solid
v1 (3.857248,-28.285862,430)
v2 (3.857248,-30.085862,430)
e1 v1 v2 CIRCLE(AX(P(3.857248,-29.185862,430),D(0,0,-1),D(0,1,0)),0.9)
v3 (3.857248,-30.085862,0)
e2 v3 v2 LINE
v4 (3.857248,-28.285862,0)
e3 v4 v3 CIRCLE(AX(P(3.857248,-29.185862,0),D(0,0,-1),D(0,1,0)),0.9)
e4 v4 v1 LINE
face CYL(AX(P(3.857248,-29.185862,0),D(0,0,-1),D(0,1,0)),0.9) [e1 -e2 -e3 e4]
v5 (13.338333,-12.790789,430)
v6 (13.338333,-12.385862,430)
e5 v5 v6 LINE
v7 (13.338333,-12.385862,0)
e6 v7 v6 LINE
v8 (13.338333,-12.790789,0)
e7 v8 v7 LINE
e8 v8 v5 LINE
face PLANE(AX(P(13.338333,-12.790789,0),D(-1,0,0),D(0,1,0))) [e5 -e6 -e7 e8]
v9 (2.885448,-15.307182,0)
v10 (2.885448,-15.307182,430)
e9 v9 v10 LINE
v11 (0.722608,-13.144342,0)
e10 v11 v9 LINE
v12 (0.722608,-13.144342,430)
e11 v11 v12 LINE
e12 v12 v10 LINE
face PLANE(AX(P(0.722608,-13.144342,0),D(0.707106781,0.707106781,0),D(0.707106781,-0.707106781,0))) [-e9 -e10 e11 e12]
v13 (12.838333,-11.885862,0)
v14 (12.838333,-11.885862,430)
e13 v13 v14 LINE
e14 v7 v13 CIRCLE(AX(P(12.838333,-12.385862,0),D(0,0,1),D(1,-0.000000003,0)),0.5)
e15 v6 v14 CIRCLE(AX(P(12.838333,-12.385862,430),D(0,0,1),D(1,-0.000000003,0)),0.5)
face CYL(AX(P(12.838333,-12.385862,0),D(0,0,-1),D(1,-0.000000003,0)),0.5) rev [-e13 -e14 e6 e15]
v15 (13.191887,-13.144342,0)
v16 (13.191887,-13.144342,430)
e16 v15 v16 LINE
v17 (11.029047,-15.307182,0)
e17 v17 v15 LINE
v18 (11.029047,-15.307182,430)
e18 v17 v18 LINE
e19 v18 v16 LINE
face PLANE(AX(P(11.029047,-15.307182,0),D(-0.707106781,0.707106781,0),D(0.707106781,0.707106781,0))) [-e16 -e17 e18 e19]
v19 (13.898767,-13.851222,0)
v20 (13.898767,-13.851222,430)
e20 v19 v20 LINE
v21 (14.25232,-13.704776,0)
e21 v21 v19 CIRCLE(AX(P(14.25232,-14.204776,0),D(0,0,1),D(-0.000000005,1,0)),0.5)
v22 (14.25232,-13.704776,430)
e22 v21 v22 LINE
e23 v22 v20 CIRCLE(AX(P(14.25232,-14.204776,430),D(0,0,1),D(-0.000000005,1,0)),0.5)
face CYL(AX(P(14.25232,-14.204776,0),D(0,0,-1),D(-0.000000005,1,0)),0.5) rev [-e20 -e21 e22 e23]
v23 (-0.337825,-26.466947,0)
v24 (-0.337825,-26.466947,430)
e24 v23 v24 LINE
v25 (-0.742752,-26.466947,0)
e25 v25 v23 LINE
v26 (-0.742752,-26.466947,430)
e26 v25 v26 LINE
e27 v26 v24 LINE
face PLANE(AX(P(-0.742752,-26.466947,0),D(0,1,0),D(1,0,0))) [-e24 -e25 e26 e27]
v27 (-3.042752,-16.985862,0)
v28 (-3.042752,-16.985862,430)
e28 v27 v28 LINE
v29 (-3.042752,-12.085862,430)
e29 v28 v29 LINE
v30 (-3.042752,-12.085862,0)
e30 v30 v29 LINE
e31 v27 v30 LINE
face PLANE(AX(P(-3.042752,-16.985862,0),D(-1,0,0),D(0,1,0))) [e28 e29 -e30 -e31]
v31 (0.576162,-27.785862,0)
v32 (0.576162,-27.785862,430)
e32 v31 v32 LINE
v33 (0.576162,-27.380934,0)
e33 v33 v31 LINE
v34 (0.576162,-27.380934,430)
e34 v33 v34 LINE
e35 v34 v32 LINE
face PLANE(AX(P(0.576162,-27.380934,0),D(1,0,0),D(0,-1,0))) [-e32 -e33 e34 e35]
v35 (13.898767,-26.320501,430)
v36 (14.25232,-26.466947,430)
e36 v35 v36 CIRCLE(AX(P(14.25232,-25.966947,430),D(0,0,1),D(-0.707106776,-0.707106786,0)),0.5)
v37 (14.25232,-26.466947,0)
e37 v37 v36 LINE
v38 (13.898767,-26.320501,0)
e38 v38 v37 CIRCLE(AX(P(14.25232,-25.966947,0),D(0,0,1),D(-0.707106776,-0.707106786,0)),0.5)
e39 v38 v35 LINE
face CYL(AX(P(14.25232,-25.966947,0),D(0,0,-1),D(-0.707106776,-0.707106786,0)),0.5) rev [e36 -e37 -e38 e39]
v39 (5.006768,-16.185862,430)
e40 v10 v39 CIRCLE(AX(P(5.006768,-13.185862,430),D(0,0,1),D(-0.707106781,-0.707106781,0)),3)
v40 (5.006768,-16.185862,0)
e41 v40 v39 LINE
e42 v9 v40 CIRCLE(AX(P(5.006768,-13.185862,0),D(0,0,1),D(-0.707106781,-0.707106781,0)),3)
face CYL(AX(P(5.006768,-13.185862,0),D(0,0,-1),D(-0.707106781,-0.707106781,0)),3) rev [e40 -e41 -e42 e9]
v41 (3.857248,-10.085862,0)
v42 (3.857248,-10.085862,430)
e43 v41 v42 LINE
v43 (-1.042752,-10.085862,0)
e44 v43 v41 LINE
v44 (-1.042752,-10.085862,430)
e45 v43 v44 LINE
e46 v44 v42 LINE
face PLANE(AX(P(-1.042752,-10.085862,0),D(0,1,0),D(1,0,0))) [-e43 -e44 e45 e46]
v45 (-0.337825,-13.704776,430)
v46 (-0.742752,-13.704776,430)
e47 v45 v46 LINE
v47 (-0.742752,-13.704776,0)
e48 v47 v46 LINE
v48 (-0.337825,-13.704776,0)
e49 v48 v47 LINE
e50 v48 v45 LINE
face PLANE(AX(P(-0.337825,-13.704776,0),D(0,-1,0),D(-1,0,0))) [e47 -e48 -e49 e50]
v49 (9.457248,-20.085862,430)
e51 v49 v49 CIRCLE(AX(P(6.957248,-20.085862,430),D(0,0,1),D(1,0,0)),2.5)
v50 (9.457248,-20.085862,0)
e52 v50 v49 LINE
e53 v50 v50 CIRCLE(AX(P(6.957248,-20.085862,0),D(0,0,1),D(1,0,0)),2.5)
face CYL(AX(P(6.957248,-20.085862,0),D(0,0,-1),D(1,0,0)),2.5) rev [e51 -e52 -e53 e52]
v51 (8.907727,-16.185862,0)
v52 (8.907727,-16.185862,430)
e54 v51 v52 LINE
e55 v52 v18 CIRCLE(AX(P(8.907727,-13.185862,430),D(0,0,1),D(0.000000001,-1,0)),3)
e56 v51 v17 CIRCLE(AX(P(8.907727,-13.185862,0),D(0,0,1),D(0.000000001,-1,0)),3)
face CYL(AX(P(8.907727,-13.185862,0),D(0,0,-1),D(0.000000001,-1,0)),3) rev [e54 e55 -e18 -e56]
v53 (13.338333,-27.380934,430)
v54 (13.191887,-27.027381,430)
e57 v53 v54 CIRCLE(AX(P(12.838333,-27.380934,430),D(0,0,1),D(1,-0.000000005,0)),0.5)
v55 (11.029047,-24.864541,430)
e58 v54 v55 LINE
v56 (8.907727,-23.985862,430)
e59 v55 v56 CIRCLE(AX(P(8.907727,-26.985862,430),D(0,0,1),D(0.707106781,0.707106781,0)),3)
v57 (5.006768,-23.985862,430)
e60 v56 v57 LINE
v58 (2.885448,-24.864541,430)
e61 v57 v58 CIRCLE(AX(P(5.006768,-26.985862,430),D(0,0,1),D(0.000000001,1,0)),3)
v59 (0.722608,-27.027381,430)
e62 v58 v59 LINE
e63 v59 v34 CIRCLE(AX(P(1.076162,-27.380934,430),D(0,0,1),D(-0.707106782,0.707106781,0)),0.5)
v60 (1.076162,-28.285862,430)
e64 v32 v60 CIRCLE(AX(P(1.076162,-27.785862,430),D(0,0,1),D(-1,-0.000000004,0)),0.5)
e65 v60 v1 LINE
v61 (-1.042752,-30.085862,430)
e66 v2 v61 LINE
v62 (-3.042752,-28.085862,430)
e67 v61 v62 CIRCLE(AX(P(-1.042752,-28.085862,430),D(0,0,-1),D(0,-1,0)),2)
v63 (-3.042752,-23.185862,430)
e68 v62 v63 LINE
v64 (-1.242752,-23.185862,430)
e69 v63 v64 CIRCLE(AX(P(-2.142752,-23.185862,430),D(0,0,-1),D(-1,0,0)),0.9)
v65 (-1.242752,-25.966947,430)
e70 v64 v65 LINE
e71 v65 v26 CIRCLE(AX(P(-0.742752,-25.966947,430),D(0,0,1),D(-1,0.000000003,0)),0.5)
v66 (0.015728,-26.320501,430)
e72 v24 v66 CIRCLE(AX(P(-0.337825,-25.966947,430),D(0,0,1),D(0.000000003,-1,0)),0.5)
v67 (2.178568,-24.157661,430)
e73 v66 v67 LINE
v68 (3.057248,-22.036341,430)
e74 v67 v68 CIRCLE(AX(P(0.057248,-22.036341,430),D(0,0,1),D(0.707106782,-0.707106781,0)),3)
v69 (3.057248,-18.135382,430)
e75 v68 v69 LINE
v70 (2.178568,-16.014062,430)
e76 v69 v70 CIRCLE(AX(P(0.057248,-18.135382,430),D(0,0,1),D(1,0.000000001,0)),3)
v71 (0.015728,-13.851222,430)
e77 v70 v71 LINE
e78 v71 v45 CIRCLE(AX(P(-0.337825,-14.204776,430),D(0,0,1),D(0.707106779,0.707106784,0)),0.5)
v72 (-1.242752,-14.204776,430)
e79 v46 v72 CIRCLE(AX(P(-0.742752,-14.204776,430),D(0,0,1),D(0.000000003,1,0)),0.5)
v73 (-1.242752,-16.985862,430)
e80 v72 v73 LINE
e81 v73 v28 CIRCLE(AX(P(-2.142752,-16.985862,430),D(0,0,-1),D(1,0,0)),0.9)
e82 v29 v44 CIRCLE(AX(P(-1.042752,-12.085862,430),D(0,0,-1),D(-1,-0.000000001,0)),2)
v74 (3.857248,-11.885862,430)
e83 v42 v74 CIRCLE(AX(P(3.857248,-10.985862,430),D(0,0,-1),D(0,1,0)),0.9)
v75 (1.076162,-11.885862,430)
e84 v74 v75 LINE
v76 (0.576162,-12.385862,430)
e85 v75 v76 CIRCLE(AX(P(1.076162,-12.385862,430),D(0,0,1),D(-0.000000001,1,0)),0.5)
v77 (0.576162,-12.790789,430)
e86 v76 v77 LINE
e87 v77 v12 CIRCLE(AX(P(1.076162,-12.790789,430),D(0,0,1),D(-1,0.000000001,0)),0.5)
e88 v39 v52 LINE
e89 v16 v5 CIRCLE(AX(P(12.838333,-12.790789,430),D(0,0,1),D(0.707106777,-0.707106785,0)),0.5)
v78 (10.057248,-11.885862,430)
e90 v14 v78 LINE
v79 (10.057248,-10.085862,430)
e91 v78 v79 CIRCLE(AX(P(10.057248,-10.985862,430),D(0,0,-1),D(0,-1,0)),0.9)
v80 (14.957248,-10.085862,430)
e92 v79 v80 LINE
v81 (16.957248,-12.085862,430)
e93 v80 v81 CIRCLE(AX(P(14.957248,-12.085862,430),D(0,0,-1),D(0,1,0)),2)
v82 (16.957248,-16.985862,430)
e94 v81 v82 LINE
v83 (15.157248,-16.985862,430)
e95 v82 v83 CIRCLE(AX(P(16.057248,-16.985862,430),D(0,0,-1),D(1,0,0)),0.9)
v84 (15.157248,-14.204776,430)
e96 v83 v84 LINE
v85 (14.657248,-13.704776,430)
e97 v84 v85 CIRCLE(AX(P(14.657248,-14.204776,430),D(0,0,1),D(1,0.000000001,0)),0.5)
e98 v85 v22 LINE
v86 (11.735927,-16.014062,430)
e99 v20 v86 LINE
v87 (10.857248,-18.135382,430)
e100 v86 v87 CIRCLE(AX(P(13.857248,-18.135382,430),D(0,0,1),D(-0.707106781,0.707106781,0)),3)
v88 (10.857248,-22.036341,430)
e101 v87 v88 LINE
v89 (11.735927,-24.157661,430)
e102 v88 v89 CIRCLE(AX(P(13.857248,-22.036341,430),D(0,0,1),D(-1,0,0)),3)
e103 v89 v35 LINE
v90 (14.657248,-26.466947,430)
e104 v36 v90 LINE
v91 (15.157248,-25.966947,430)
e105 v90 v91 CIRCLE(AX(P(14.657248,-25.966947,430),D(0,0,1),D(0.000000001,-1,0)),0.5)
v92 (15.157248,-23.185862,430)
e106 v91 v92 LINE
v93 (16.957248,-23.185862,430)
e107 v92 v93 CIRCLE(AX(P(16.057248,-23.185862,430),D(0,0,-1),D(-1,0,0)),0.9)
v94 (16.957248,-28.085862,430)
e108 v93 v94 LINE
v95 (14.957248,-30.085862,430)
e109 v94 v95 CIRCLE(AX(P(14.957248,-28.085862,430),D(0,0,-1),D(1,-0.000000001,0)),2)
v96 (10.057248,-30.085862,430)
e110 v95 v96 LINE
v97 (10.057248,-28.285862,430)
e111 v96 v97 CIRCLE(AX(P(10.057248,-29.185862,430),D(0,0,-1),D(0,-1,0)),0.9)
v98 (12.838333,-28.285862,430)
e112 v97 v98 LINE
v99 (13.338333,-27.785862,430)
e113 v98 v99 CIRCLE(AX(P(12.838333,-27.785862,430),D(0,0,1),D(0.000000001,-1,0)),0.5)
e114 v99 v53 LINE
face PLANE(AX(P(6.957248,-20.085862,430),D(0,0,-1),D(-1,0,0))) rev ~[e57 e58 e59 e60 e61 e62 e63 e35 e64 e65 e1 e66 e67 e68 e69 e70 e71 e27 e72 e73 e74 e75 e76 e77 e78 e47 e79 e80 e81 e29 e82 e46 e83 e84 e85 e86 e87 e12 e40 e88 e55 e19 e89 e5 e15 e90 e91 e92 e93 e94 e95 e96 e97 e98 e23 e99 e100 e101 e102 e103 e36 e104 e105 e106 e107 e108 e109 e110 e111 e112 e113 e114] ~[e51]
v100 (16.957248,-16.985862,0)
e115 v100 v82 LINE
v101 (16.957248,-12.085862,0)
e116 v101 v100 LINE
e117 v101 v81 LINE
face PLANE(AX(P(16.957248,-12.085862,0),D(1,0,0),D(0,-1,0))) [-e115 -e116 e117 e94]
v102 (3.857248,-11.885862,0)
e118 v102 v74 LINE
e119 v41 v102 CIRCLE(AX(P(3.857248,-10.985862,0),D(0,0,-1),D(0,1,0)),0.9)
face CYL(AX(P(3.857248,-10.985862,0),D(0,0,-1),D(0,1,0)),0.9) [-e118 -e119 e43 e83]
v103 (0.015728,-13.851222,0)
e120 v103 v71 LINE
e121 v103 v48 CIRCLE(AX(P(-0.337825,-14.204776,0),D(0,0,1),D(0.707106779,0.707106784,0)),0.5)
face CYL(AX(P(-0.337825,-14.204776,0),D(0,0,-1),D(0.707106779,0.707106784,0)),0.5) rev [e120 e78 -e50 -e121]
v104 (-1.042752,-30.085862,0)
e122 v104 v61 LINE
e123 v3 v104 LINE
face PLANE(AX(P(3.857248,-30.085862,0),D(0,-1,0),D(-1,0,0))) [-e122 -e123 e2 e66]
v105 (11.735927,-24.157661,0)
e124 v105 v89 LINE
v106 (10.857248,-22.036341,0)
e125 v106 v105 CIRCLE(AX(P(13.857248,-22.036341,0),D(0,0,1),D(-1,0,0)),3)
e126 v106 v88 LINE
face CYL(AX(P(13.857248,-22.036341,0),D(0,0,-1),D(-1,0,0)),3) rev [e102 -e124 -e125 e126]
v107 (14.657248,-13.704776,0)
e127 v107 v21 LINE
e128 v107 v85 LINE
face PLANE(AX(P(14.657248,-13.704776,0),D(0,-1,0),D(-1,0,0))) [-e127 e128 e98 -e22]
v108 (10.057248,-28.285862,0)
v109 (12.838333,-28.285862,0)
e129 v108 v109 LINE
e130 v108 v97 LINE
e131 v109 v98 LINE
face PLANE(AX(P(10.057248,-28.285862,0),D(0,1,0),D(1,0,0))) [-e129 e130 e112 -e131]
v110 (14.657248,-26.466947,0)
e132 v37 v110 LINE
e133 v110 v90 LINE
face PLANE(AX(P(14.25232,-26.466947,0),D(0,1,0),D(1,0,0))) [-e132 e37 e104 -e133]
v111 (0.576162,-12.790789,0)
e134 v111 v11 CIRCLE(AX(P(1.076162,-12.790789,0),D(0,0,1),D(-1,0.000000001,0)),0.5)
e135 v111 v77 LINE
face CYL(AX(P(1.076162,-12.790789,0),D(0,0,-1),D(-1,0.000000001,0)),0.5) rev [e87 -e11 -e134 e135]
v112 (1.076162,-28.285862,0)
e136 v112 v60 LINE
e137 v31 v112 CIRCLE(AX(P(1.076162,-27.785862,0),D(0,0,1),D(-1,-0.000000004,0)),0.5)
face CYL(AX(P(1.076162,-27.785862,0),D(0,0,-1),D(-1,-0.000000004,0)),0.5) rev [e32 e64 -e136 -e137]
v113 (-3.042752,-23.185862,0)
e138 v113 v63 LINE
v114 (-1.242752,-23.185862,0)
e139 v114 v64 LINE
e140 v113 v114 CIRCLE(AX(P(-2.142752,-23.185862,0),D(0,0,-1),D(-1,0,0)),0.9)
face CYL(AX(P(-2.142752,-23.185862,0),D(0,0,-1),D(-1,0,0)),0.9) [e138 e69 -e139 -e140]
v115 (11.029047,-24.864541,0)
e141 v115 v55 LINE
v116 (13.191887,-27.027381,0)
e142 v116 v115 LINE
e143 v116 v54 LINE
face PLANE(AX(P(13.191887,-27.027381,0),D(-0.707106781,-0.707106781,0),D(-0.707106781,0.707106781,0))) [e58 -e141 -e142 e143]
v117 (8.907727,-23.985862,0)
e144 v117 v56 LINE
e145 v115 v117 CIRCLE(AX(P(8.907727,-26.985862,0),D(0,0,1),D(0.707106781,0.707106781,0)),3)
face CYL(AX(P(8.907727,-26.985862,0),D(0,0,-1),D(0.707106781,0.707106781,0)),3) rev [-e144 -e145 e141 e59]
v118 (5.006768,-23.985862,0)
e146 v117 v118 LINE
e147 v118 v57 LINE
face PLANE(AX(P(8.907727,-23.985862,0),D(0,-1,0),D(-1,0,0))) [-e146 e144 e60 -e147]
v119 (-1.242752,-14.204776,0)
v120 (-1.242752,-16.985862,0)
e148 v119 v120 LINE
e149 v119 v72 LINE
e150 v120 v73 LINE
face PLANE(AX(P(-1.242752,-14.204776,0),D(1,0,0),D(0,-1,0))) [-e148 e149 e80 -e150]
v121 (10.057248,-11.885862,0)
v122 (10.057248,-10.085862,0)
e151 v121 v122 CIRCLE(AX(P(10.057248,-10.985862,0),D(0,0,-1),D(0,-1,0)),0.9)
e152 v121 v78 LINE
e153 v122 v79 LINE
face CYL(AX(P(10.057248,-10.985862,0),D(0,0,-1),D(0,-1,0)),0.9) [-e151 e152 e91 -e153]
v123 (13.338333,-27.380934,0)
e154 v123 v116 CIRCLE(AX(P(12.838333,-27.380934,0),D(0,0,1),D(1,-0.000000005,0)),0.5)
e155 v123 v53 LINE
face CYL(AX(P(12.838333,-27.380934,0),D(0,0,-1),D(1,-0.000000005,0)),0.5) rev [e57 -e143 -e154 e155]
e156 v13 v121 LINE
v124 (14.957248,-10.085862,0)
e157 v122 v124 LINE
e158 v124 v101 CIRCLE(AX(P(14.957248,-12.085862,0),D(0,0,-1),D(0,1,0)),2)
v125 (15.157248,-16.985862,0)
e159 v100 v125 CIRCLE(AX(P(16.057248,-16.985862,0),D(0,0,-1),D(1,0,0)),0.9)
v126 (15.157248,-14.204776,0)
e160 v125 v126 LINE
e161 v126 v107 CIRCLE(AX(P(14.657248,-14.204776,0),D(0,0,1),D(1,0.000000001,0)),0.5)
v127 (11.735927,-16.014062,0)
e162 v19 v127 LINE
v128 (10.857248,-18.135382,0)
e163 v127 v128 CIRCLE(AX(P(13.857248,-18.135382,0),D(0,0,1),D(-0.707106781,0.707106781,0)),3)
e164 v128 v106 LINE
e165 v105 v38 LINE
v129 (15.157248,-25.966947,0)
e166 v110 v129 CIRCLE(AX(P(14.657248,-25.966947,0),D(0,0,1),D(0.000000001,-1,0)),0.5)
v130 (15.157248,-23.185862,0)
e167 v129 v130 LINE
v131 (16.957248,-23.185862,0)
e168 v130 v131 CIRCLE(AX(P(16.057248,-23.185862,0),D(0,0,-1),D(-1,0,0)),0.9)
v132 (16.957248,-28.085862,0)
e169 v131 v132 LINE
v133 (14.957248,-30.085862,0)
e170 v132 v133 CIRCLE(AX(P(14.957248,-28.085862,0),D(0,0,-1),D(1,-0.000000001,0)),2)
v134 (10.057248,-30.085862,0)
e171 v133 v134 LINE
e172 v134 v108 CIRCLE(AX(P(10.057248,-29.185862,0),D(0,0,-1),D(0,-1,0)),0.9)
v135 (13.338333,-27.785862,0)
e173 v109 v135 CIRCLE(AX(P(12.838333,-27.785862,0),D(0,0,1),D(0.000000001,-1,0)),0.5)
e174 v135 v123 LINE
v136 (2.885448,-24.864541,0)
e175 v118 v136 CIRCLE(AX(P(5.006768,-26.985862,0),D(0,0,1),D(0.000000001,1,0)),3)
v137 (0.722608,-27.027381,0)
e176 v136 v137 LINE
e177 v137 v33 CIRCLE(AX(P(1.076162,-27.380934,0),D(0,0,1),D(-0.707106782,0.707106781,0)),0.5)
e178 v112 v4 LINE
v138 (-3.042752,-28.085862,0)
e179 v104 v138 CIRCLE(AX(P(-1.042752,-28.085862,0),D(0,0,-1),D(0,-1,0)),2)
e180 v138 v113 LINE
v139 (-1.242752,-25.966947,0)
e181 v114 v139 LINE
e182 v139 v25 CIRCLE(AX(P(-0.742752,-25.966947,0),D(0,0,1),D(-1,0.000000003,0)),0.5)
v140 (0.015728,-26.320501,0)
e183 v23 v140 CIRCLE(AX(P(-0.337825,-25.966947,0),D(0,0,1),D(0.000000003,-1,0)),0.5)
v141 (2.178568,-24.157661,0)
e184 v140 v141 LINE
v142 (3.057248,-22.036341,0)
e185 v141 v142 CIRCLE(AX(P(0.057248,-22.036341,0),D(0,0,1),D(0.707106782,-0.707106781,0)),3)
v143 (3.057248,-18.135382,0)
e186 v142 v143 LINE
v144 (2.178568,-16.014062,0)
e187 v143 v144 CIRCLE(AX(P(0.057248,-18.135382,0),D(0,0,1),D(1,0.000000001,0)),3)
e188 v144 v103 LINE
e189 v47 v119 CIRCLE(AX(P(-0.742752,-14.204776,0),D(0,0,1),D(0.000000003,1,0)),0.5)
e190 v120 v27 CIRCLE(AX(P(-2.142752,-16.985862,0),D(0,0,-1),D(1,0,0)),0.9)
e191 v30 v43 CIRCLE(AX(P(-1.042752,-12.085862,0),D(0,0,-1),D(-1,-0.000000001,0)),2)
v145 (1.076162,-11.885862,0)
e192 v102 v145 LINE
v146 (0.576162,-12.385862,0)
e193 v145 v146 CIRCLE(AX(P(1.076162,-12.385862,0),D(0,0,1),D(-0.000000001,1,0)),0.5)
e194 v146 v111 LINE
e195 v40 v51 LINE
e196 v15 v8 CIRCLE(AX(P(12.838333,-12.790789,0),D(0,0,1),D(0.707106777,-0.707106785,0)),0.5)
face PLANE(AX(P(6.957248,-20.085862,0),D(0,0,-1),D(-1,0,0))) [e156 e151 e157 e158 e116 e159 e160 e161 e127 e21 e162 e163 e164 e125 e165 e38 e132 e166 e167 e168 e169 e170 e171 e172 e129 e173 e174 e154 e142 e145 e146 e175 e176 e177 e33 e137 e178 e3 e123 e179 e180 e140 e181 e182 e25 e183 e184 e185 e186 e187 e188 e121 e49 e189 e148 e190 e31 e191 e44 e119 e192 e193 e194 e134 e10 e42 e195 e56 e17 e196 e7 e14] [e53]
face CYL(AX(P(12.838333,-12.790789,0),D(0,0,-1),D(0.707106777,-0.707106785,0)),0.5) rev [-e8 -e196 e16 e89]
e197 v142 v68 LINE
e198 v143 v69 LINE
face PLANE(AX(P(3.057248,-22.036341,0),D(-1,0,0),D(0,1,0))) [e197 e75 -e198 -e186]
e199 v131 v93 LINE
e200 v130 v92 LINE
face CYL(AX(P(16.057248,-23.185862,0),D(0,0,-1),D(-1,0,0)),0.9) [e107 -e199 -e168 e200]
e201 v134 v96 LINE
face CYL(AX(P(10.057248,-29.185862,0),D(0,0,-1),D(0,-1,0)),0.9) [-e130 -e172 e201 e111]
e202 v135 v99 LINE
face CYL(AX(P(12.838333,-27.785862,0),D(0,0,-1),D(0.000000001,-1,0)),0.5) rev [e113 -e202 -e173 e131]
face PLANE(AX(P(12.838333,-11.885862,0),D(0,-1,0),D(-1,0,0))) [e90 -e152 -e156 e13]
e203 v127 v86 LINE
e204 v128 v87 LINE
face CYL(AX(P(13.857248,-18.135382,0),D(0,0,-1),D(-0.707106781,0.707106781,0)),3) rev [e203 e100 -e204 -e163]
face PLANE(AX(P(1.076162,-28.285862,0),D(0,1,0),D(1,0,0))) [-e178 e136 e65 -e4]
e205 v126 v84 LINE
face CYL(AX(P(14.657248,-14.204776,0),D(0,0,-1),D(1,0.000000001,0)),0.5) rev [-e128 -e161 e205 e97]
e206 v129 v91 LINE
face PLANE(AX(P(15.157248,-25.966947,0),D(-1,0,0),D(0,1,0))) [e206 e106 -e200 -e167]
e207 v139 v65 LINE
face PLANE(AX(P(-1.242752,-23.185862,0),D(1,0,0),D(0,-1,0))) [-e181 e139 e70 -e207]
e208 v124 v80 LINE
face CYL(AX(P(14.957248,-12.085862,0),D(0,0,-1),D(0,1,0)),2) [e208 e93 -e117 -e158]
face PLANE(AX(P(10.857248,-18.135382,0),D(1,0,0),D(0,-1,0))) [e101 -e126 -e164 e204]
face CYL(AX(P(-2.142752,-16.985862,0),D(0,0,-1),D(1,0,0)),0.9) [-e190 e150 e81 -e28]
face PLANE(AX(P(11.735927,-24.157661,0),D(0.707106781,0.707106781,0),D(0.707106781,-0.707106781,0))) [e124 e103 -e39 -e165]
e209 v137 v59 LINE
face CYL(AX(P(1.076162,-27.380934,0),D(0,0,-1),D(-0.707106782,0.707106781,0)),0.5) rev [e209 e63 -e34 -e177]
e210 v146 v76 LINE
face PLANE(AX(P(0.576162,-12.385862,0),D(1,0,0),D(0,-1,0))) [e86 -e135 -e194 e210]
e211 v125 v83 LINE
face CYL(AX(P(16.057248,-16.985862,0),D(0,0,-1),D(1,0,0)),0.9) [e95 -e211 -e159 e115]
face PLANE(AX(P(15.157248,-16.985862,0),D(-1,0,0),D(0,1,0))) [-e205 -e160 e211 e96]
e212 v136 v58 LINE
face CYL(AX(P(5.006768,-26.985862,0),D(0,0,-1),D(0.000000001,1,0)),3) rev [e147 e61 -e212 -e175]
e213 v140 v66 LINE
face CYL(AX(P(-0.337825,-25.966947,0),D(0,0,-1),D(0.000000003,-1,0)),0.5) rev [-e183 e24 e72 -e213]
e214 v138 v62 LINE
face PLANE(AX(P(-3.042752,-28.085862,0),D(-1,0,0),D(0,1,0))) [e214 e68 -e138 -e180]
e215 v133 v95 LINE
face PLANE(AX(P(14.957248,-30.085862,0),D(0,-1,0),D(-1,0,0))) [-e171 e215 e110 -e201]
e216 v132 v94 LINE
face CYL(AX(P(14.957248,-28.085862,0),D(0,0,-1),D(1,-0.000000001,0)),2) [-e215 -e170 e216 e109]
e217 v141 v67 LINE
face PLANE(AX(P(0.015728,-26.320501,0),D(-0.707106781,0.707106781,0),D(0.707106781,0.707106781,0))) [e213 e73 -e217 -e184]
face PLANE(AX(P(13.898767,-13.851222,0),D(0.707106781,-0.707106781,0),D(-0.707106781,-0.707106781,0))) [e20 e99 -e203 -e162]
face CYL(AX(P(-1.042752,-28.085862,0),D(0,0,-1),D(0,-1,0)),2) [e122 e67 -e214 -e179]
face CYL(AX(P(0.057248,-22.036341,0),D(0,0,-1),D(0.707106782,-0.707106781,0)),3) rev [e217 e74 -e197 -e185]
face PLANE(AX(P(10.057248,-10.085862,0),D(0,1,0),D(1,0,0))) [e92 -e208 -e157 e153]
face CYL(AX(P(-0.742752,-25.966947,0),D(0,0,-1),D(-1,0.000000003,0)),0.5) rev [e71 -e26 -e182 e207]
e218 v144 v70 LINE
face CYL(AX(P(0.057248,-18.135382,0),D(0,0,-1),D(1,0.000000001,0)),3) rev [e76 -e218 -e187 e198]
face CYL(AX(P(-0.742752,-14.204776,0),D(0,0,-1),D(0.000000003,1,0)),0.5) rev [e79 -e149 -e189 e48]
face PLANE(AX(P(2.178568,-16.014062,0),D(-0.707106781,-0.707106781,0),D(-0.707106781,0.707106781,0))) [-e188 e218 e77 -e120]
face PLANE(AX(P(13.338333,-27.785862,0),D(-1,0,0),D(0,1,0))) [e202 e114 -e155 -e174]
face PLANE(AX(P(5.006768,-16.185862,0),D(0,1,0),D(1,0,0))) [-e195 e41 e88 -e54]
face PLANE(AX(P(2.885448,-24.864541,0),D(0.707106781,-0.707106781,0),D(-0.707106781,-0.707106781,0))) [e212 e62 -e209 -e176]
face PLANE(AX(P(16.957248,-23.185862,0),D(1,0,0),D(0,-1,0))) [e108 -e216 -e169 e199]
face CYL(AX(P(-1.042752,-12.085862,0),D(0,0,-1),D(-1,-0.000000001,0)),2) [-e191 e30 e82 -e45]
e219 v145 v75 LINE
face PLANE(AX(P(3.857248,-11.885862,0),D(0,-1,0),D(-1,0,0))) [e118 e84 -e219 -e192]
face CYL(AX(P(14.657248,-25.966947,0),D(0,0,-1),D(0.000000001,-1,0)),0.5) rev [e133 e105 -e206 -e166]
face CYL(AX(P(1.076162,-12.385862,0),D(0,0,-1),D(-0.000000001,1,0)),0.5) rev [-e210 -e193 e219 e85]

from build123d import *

# Parameters (mm, degrees)
SKETCH_2_R      = 2.5
EXTRUDE_1_DEPTH = 430


with BuildPart() as part:
    # 草图2 → 凸台-拉伸1 (new body)
    with BuildSketch(Plane.XY):
        with BuildLine():
            Line((-1.042752475, -10.085861632), (3.857247525, -10.085861632))
            ThreePointArc((3.857247525, -10.085861632), (4.757247525, -10.985861632), (3.857247525, -11.885861632))
            Line((3.857247525, -11.885861632), (1.076161722, -11.885861632))
            ThreePointArc((1.076161722, -11.885861632), (0.722608332, -12.032308241), (0.576161722, -12.385861632))
            Line((0.576161722, -12.385861632), (0.576161722, -12.790788968))
            ThreePointArc((0.576161722, -12.790788968), (0.614221956, -12.982130685), (0.722608332, -13.144342359))
            Line((0.722608332, -13.144342359), (2.885447948, -15.307181975))
            ThreePointArc((2.885447948, -15.307181975), (3.858717994, -15.957500229), (5.006768291, -16.185861632))
            Line((5.006768291, -16.185861632), (8.907726758, -16.185861632))
            ThreePointArc((8.907726758, -16.185861632), (10.055777055, -15.957500229), (11.029047102, -15.307181975))
            Line((11.029047102, -15.307181975), (13.191886718, -13.144342359))
            ThreePointArc((13.191886718, -13.144342359), (13.300273094, -12.982130685), (13.338333327, -12.790788968))
            Line((13.338333327, -12.790788968), (13.338333327, -12.385861632))
            ThreePointArc((13.338333327, -12.385861632), (13.191886718, -12.032308241), (12.838333327, -11.885861632))
            Line((12.838333327, -11.885861632), (10.057247525, -11.885861632))
            ThreePointArc((10.057247525, -11.885861632), (9.157247525, -10.985861632), (10.057247525, -10.085861632))
            Line((10.057247525, -10.085861632), (14.957247525, -10.085861632))
            ThreePointArc((14.957247525, -10.085861632), (16.371461087, -10.671648069), (16.957247525, -12.085861632))
            Line((16.957247525, -12.085861632), (16.957247525, -16.985861632))
            ThreePointArc((16.957247525, -16.985861632), (16.057247525, -17.885861632), (15.157247525, -16.985861632))
            Line((15.157247525, -16.985861632), (15.157247525, -14.204775829))
            ThreePointArc((15.157247525, -14.204775829), (15.010800915, -13.851222438), (14.657247525, -13.704775829))
            Line((14.657247525, -13.704775829), (14.252320188, -13.704775829))
            ThreePointArc((14.252320188, -13.704775829), (14.060978472, -13.742836063), (13.898766797, -13.851222438))
            Line((13.898766797, -13.851222438), (11.735927181, -16.014062054))
            ThreePointArc((11.735927181, -16.014062054), (11.085608927, -16.987332101), (10.857247525, -18.135382398))
            Line((10.857247525, -18.135382398), (10.857247525, -22.036340865))
            ThreePointArc((10.857247525, -22.036340865), (11.085608927, -23.184391162), (11.735927181, -24.157661209))
            Line((11.735927181, -24.157661209), (13.898766797, -26.320500825))
            ThreePointArc((13.898766797, -26.320500825), (14.060978472, -26.4288872), (14.252320188, -26.466947434))
            Line((14.252320188, -26.466947434), (14.657247525, -26.466947434))
            ThreePointArc((14.657247525, -26.466947434), (15.010800915, -26.320500825), (15.157247525, -25.966947434))
            Line((15.157247525, -25.966947434), (15.157247525, -23.185861632))
            ThreePointArc((15.157247525, -23.185861632), (16.057247525, -22.285861632), (16.957247525, -23.185861632))
            Line((16.957247525, -23.185861632), (16.957247525, -28.085861632))
            ThreePointArc((16.957247525, -28.085861632), (16.371461087, -29.500075194), (14.957247525, -30.085861632))
            Line((14.957247525, -30.085861632), (10.057247525, -30.085861632))
            ThreePointArc((10.057247525, -30.085861632), (9.157247525, -29.185861632), (10.057247525, -28.285861632))
            Line((10.057247525, -28.285861632), (12.838333327, -28.285861632))
            ThreePointArc((12.838333327, -28.285861632), (13.191886718, -28.139415022), (13.338333327, -27.785861632))
            Line((13.338333327, -27.785861632), (13.338333327, -27.380934295))
            ThreePointArc((13.338333327, -27.380934295), (13.300273094, -27.189592579), (13.191886718, -27.027380904))
            Line((13.191886718, -27.027380904), (11.029047102, -24.864541288))
            ThreePointArc((11.029047102, -24.864541288), (10.055777055, -24.214223034), (8.907726758, -23.985861632))
            Line((8.907726758, -23.985861632), (5.006768291, -23.985861632))
            ThreePointArc((5.006768291, -23.985861632), (3.858717994, -24.214223034), (2.885447948, -24.864541288))
            Line((2.885447948, -24.864541288), (0.722608332, -27.027380904))
            ThreePointArc((0.722608332, -27.027380904), (0.614221956, -27.189592579), (0.576161722, -27.380934295))
            Line((0.576161722, -27.380934295), (0.576161722, -27.785861632))
            ThreePointArc((0.576161722, -27.785861632), (0.722608332, -28.139415022), (1.076161722, -28.285861632))
            Line((1.076161722, -28.285861632), (3.857247525, -28.285861632))
            ThreePointArc((3.857247525, -28.285861632), (4.757247525, -29.185861632), (3.857247525, -30.085861632))
            Line((3.857247525, -30.085861632), (-1.042752475, -30.085861632))
            ThreePointArc((-1.042752475, -30.085861632), (-2.456966038, -29.500075194), (-3.042752475, -28.085861632))
            Line((-3.042752475, -28.085861632), (-3.042752475, -23.185861632))
            ThreePointArc((-3.042752475, -23.185861632), (-2.142752475, -22.285861632), (-1.242752475, -23.185861632))
            Line((-1.242752475, -23.185861632), (-1.242752475, -25.966947434))
            ThreePointArc((-1.242752475, -25.966947434), (-1.096305866, -26.320500825), (-0.742752475, -26.466947434))
            Line((-0.742752475, -26.466947434), (-0.337825138, -26.466947434))
            ThreePointArc((-0.337825138, -26.466947434), (-0.146483422, -26.4288872), (0.015728252, -26.320500825))
            Line((0.015728252, -26.320500825), (2.178567868, -24.157661209))
            ThreePointArc((2.178567868, -24.157661209), (2.828886122, -23.184391162), (3.057247525, -22.036340865))
            Line((3.057247525, -22.036340865), (3.057247525, -18.135382398))
            ThreePointArc((3.057247525, -18.135382398), (2.828886122, -16.987332101), (2.178567868, -16.014062054))
            Line((2.178567868, -16.014062054), (0.015728252, -13.851222438))
            ThreePointArc((0.015728252, -13.851222438), (-0.146483422, -13.742836063), (-0.337825138, -13.704775829))
            Line((-0.337825138, -13.704775829), (-0.742752475, -13.704775829))
            ThreePointArc((-0.742752475, -13.704775829), (-1.096305866, -13.851222438), (-1.242752475, -14.204775829))
            Line((-1.242752475, -14.204775829), (-1.242752475, -16.985861632))
            ThreePointArc((-1.242752475, -16.985861632), (-2.142752475, -17.885861632), (-3.042752475, -16.985861632))
            Line((-3.042752475, -16.985861632), (-3.042752475, -12.085861632))
            ThreePointArc((-3.042752475, -12.085861632), (-2.456966038, -10.671648069), (-1.042752475, -10.085861632))
        make_face()
        with Locations((6.957247525, -20.085861632)):
            Circle(SKETCH_2_R, mode=Mode.SUBTRACT)
    extrude(amount=EXTRUDE_1_DEPTH)


solid = part.part
